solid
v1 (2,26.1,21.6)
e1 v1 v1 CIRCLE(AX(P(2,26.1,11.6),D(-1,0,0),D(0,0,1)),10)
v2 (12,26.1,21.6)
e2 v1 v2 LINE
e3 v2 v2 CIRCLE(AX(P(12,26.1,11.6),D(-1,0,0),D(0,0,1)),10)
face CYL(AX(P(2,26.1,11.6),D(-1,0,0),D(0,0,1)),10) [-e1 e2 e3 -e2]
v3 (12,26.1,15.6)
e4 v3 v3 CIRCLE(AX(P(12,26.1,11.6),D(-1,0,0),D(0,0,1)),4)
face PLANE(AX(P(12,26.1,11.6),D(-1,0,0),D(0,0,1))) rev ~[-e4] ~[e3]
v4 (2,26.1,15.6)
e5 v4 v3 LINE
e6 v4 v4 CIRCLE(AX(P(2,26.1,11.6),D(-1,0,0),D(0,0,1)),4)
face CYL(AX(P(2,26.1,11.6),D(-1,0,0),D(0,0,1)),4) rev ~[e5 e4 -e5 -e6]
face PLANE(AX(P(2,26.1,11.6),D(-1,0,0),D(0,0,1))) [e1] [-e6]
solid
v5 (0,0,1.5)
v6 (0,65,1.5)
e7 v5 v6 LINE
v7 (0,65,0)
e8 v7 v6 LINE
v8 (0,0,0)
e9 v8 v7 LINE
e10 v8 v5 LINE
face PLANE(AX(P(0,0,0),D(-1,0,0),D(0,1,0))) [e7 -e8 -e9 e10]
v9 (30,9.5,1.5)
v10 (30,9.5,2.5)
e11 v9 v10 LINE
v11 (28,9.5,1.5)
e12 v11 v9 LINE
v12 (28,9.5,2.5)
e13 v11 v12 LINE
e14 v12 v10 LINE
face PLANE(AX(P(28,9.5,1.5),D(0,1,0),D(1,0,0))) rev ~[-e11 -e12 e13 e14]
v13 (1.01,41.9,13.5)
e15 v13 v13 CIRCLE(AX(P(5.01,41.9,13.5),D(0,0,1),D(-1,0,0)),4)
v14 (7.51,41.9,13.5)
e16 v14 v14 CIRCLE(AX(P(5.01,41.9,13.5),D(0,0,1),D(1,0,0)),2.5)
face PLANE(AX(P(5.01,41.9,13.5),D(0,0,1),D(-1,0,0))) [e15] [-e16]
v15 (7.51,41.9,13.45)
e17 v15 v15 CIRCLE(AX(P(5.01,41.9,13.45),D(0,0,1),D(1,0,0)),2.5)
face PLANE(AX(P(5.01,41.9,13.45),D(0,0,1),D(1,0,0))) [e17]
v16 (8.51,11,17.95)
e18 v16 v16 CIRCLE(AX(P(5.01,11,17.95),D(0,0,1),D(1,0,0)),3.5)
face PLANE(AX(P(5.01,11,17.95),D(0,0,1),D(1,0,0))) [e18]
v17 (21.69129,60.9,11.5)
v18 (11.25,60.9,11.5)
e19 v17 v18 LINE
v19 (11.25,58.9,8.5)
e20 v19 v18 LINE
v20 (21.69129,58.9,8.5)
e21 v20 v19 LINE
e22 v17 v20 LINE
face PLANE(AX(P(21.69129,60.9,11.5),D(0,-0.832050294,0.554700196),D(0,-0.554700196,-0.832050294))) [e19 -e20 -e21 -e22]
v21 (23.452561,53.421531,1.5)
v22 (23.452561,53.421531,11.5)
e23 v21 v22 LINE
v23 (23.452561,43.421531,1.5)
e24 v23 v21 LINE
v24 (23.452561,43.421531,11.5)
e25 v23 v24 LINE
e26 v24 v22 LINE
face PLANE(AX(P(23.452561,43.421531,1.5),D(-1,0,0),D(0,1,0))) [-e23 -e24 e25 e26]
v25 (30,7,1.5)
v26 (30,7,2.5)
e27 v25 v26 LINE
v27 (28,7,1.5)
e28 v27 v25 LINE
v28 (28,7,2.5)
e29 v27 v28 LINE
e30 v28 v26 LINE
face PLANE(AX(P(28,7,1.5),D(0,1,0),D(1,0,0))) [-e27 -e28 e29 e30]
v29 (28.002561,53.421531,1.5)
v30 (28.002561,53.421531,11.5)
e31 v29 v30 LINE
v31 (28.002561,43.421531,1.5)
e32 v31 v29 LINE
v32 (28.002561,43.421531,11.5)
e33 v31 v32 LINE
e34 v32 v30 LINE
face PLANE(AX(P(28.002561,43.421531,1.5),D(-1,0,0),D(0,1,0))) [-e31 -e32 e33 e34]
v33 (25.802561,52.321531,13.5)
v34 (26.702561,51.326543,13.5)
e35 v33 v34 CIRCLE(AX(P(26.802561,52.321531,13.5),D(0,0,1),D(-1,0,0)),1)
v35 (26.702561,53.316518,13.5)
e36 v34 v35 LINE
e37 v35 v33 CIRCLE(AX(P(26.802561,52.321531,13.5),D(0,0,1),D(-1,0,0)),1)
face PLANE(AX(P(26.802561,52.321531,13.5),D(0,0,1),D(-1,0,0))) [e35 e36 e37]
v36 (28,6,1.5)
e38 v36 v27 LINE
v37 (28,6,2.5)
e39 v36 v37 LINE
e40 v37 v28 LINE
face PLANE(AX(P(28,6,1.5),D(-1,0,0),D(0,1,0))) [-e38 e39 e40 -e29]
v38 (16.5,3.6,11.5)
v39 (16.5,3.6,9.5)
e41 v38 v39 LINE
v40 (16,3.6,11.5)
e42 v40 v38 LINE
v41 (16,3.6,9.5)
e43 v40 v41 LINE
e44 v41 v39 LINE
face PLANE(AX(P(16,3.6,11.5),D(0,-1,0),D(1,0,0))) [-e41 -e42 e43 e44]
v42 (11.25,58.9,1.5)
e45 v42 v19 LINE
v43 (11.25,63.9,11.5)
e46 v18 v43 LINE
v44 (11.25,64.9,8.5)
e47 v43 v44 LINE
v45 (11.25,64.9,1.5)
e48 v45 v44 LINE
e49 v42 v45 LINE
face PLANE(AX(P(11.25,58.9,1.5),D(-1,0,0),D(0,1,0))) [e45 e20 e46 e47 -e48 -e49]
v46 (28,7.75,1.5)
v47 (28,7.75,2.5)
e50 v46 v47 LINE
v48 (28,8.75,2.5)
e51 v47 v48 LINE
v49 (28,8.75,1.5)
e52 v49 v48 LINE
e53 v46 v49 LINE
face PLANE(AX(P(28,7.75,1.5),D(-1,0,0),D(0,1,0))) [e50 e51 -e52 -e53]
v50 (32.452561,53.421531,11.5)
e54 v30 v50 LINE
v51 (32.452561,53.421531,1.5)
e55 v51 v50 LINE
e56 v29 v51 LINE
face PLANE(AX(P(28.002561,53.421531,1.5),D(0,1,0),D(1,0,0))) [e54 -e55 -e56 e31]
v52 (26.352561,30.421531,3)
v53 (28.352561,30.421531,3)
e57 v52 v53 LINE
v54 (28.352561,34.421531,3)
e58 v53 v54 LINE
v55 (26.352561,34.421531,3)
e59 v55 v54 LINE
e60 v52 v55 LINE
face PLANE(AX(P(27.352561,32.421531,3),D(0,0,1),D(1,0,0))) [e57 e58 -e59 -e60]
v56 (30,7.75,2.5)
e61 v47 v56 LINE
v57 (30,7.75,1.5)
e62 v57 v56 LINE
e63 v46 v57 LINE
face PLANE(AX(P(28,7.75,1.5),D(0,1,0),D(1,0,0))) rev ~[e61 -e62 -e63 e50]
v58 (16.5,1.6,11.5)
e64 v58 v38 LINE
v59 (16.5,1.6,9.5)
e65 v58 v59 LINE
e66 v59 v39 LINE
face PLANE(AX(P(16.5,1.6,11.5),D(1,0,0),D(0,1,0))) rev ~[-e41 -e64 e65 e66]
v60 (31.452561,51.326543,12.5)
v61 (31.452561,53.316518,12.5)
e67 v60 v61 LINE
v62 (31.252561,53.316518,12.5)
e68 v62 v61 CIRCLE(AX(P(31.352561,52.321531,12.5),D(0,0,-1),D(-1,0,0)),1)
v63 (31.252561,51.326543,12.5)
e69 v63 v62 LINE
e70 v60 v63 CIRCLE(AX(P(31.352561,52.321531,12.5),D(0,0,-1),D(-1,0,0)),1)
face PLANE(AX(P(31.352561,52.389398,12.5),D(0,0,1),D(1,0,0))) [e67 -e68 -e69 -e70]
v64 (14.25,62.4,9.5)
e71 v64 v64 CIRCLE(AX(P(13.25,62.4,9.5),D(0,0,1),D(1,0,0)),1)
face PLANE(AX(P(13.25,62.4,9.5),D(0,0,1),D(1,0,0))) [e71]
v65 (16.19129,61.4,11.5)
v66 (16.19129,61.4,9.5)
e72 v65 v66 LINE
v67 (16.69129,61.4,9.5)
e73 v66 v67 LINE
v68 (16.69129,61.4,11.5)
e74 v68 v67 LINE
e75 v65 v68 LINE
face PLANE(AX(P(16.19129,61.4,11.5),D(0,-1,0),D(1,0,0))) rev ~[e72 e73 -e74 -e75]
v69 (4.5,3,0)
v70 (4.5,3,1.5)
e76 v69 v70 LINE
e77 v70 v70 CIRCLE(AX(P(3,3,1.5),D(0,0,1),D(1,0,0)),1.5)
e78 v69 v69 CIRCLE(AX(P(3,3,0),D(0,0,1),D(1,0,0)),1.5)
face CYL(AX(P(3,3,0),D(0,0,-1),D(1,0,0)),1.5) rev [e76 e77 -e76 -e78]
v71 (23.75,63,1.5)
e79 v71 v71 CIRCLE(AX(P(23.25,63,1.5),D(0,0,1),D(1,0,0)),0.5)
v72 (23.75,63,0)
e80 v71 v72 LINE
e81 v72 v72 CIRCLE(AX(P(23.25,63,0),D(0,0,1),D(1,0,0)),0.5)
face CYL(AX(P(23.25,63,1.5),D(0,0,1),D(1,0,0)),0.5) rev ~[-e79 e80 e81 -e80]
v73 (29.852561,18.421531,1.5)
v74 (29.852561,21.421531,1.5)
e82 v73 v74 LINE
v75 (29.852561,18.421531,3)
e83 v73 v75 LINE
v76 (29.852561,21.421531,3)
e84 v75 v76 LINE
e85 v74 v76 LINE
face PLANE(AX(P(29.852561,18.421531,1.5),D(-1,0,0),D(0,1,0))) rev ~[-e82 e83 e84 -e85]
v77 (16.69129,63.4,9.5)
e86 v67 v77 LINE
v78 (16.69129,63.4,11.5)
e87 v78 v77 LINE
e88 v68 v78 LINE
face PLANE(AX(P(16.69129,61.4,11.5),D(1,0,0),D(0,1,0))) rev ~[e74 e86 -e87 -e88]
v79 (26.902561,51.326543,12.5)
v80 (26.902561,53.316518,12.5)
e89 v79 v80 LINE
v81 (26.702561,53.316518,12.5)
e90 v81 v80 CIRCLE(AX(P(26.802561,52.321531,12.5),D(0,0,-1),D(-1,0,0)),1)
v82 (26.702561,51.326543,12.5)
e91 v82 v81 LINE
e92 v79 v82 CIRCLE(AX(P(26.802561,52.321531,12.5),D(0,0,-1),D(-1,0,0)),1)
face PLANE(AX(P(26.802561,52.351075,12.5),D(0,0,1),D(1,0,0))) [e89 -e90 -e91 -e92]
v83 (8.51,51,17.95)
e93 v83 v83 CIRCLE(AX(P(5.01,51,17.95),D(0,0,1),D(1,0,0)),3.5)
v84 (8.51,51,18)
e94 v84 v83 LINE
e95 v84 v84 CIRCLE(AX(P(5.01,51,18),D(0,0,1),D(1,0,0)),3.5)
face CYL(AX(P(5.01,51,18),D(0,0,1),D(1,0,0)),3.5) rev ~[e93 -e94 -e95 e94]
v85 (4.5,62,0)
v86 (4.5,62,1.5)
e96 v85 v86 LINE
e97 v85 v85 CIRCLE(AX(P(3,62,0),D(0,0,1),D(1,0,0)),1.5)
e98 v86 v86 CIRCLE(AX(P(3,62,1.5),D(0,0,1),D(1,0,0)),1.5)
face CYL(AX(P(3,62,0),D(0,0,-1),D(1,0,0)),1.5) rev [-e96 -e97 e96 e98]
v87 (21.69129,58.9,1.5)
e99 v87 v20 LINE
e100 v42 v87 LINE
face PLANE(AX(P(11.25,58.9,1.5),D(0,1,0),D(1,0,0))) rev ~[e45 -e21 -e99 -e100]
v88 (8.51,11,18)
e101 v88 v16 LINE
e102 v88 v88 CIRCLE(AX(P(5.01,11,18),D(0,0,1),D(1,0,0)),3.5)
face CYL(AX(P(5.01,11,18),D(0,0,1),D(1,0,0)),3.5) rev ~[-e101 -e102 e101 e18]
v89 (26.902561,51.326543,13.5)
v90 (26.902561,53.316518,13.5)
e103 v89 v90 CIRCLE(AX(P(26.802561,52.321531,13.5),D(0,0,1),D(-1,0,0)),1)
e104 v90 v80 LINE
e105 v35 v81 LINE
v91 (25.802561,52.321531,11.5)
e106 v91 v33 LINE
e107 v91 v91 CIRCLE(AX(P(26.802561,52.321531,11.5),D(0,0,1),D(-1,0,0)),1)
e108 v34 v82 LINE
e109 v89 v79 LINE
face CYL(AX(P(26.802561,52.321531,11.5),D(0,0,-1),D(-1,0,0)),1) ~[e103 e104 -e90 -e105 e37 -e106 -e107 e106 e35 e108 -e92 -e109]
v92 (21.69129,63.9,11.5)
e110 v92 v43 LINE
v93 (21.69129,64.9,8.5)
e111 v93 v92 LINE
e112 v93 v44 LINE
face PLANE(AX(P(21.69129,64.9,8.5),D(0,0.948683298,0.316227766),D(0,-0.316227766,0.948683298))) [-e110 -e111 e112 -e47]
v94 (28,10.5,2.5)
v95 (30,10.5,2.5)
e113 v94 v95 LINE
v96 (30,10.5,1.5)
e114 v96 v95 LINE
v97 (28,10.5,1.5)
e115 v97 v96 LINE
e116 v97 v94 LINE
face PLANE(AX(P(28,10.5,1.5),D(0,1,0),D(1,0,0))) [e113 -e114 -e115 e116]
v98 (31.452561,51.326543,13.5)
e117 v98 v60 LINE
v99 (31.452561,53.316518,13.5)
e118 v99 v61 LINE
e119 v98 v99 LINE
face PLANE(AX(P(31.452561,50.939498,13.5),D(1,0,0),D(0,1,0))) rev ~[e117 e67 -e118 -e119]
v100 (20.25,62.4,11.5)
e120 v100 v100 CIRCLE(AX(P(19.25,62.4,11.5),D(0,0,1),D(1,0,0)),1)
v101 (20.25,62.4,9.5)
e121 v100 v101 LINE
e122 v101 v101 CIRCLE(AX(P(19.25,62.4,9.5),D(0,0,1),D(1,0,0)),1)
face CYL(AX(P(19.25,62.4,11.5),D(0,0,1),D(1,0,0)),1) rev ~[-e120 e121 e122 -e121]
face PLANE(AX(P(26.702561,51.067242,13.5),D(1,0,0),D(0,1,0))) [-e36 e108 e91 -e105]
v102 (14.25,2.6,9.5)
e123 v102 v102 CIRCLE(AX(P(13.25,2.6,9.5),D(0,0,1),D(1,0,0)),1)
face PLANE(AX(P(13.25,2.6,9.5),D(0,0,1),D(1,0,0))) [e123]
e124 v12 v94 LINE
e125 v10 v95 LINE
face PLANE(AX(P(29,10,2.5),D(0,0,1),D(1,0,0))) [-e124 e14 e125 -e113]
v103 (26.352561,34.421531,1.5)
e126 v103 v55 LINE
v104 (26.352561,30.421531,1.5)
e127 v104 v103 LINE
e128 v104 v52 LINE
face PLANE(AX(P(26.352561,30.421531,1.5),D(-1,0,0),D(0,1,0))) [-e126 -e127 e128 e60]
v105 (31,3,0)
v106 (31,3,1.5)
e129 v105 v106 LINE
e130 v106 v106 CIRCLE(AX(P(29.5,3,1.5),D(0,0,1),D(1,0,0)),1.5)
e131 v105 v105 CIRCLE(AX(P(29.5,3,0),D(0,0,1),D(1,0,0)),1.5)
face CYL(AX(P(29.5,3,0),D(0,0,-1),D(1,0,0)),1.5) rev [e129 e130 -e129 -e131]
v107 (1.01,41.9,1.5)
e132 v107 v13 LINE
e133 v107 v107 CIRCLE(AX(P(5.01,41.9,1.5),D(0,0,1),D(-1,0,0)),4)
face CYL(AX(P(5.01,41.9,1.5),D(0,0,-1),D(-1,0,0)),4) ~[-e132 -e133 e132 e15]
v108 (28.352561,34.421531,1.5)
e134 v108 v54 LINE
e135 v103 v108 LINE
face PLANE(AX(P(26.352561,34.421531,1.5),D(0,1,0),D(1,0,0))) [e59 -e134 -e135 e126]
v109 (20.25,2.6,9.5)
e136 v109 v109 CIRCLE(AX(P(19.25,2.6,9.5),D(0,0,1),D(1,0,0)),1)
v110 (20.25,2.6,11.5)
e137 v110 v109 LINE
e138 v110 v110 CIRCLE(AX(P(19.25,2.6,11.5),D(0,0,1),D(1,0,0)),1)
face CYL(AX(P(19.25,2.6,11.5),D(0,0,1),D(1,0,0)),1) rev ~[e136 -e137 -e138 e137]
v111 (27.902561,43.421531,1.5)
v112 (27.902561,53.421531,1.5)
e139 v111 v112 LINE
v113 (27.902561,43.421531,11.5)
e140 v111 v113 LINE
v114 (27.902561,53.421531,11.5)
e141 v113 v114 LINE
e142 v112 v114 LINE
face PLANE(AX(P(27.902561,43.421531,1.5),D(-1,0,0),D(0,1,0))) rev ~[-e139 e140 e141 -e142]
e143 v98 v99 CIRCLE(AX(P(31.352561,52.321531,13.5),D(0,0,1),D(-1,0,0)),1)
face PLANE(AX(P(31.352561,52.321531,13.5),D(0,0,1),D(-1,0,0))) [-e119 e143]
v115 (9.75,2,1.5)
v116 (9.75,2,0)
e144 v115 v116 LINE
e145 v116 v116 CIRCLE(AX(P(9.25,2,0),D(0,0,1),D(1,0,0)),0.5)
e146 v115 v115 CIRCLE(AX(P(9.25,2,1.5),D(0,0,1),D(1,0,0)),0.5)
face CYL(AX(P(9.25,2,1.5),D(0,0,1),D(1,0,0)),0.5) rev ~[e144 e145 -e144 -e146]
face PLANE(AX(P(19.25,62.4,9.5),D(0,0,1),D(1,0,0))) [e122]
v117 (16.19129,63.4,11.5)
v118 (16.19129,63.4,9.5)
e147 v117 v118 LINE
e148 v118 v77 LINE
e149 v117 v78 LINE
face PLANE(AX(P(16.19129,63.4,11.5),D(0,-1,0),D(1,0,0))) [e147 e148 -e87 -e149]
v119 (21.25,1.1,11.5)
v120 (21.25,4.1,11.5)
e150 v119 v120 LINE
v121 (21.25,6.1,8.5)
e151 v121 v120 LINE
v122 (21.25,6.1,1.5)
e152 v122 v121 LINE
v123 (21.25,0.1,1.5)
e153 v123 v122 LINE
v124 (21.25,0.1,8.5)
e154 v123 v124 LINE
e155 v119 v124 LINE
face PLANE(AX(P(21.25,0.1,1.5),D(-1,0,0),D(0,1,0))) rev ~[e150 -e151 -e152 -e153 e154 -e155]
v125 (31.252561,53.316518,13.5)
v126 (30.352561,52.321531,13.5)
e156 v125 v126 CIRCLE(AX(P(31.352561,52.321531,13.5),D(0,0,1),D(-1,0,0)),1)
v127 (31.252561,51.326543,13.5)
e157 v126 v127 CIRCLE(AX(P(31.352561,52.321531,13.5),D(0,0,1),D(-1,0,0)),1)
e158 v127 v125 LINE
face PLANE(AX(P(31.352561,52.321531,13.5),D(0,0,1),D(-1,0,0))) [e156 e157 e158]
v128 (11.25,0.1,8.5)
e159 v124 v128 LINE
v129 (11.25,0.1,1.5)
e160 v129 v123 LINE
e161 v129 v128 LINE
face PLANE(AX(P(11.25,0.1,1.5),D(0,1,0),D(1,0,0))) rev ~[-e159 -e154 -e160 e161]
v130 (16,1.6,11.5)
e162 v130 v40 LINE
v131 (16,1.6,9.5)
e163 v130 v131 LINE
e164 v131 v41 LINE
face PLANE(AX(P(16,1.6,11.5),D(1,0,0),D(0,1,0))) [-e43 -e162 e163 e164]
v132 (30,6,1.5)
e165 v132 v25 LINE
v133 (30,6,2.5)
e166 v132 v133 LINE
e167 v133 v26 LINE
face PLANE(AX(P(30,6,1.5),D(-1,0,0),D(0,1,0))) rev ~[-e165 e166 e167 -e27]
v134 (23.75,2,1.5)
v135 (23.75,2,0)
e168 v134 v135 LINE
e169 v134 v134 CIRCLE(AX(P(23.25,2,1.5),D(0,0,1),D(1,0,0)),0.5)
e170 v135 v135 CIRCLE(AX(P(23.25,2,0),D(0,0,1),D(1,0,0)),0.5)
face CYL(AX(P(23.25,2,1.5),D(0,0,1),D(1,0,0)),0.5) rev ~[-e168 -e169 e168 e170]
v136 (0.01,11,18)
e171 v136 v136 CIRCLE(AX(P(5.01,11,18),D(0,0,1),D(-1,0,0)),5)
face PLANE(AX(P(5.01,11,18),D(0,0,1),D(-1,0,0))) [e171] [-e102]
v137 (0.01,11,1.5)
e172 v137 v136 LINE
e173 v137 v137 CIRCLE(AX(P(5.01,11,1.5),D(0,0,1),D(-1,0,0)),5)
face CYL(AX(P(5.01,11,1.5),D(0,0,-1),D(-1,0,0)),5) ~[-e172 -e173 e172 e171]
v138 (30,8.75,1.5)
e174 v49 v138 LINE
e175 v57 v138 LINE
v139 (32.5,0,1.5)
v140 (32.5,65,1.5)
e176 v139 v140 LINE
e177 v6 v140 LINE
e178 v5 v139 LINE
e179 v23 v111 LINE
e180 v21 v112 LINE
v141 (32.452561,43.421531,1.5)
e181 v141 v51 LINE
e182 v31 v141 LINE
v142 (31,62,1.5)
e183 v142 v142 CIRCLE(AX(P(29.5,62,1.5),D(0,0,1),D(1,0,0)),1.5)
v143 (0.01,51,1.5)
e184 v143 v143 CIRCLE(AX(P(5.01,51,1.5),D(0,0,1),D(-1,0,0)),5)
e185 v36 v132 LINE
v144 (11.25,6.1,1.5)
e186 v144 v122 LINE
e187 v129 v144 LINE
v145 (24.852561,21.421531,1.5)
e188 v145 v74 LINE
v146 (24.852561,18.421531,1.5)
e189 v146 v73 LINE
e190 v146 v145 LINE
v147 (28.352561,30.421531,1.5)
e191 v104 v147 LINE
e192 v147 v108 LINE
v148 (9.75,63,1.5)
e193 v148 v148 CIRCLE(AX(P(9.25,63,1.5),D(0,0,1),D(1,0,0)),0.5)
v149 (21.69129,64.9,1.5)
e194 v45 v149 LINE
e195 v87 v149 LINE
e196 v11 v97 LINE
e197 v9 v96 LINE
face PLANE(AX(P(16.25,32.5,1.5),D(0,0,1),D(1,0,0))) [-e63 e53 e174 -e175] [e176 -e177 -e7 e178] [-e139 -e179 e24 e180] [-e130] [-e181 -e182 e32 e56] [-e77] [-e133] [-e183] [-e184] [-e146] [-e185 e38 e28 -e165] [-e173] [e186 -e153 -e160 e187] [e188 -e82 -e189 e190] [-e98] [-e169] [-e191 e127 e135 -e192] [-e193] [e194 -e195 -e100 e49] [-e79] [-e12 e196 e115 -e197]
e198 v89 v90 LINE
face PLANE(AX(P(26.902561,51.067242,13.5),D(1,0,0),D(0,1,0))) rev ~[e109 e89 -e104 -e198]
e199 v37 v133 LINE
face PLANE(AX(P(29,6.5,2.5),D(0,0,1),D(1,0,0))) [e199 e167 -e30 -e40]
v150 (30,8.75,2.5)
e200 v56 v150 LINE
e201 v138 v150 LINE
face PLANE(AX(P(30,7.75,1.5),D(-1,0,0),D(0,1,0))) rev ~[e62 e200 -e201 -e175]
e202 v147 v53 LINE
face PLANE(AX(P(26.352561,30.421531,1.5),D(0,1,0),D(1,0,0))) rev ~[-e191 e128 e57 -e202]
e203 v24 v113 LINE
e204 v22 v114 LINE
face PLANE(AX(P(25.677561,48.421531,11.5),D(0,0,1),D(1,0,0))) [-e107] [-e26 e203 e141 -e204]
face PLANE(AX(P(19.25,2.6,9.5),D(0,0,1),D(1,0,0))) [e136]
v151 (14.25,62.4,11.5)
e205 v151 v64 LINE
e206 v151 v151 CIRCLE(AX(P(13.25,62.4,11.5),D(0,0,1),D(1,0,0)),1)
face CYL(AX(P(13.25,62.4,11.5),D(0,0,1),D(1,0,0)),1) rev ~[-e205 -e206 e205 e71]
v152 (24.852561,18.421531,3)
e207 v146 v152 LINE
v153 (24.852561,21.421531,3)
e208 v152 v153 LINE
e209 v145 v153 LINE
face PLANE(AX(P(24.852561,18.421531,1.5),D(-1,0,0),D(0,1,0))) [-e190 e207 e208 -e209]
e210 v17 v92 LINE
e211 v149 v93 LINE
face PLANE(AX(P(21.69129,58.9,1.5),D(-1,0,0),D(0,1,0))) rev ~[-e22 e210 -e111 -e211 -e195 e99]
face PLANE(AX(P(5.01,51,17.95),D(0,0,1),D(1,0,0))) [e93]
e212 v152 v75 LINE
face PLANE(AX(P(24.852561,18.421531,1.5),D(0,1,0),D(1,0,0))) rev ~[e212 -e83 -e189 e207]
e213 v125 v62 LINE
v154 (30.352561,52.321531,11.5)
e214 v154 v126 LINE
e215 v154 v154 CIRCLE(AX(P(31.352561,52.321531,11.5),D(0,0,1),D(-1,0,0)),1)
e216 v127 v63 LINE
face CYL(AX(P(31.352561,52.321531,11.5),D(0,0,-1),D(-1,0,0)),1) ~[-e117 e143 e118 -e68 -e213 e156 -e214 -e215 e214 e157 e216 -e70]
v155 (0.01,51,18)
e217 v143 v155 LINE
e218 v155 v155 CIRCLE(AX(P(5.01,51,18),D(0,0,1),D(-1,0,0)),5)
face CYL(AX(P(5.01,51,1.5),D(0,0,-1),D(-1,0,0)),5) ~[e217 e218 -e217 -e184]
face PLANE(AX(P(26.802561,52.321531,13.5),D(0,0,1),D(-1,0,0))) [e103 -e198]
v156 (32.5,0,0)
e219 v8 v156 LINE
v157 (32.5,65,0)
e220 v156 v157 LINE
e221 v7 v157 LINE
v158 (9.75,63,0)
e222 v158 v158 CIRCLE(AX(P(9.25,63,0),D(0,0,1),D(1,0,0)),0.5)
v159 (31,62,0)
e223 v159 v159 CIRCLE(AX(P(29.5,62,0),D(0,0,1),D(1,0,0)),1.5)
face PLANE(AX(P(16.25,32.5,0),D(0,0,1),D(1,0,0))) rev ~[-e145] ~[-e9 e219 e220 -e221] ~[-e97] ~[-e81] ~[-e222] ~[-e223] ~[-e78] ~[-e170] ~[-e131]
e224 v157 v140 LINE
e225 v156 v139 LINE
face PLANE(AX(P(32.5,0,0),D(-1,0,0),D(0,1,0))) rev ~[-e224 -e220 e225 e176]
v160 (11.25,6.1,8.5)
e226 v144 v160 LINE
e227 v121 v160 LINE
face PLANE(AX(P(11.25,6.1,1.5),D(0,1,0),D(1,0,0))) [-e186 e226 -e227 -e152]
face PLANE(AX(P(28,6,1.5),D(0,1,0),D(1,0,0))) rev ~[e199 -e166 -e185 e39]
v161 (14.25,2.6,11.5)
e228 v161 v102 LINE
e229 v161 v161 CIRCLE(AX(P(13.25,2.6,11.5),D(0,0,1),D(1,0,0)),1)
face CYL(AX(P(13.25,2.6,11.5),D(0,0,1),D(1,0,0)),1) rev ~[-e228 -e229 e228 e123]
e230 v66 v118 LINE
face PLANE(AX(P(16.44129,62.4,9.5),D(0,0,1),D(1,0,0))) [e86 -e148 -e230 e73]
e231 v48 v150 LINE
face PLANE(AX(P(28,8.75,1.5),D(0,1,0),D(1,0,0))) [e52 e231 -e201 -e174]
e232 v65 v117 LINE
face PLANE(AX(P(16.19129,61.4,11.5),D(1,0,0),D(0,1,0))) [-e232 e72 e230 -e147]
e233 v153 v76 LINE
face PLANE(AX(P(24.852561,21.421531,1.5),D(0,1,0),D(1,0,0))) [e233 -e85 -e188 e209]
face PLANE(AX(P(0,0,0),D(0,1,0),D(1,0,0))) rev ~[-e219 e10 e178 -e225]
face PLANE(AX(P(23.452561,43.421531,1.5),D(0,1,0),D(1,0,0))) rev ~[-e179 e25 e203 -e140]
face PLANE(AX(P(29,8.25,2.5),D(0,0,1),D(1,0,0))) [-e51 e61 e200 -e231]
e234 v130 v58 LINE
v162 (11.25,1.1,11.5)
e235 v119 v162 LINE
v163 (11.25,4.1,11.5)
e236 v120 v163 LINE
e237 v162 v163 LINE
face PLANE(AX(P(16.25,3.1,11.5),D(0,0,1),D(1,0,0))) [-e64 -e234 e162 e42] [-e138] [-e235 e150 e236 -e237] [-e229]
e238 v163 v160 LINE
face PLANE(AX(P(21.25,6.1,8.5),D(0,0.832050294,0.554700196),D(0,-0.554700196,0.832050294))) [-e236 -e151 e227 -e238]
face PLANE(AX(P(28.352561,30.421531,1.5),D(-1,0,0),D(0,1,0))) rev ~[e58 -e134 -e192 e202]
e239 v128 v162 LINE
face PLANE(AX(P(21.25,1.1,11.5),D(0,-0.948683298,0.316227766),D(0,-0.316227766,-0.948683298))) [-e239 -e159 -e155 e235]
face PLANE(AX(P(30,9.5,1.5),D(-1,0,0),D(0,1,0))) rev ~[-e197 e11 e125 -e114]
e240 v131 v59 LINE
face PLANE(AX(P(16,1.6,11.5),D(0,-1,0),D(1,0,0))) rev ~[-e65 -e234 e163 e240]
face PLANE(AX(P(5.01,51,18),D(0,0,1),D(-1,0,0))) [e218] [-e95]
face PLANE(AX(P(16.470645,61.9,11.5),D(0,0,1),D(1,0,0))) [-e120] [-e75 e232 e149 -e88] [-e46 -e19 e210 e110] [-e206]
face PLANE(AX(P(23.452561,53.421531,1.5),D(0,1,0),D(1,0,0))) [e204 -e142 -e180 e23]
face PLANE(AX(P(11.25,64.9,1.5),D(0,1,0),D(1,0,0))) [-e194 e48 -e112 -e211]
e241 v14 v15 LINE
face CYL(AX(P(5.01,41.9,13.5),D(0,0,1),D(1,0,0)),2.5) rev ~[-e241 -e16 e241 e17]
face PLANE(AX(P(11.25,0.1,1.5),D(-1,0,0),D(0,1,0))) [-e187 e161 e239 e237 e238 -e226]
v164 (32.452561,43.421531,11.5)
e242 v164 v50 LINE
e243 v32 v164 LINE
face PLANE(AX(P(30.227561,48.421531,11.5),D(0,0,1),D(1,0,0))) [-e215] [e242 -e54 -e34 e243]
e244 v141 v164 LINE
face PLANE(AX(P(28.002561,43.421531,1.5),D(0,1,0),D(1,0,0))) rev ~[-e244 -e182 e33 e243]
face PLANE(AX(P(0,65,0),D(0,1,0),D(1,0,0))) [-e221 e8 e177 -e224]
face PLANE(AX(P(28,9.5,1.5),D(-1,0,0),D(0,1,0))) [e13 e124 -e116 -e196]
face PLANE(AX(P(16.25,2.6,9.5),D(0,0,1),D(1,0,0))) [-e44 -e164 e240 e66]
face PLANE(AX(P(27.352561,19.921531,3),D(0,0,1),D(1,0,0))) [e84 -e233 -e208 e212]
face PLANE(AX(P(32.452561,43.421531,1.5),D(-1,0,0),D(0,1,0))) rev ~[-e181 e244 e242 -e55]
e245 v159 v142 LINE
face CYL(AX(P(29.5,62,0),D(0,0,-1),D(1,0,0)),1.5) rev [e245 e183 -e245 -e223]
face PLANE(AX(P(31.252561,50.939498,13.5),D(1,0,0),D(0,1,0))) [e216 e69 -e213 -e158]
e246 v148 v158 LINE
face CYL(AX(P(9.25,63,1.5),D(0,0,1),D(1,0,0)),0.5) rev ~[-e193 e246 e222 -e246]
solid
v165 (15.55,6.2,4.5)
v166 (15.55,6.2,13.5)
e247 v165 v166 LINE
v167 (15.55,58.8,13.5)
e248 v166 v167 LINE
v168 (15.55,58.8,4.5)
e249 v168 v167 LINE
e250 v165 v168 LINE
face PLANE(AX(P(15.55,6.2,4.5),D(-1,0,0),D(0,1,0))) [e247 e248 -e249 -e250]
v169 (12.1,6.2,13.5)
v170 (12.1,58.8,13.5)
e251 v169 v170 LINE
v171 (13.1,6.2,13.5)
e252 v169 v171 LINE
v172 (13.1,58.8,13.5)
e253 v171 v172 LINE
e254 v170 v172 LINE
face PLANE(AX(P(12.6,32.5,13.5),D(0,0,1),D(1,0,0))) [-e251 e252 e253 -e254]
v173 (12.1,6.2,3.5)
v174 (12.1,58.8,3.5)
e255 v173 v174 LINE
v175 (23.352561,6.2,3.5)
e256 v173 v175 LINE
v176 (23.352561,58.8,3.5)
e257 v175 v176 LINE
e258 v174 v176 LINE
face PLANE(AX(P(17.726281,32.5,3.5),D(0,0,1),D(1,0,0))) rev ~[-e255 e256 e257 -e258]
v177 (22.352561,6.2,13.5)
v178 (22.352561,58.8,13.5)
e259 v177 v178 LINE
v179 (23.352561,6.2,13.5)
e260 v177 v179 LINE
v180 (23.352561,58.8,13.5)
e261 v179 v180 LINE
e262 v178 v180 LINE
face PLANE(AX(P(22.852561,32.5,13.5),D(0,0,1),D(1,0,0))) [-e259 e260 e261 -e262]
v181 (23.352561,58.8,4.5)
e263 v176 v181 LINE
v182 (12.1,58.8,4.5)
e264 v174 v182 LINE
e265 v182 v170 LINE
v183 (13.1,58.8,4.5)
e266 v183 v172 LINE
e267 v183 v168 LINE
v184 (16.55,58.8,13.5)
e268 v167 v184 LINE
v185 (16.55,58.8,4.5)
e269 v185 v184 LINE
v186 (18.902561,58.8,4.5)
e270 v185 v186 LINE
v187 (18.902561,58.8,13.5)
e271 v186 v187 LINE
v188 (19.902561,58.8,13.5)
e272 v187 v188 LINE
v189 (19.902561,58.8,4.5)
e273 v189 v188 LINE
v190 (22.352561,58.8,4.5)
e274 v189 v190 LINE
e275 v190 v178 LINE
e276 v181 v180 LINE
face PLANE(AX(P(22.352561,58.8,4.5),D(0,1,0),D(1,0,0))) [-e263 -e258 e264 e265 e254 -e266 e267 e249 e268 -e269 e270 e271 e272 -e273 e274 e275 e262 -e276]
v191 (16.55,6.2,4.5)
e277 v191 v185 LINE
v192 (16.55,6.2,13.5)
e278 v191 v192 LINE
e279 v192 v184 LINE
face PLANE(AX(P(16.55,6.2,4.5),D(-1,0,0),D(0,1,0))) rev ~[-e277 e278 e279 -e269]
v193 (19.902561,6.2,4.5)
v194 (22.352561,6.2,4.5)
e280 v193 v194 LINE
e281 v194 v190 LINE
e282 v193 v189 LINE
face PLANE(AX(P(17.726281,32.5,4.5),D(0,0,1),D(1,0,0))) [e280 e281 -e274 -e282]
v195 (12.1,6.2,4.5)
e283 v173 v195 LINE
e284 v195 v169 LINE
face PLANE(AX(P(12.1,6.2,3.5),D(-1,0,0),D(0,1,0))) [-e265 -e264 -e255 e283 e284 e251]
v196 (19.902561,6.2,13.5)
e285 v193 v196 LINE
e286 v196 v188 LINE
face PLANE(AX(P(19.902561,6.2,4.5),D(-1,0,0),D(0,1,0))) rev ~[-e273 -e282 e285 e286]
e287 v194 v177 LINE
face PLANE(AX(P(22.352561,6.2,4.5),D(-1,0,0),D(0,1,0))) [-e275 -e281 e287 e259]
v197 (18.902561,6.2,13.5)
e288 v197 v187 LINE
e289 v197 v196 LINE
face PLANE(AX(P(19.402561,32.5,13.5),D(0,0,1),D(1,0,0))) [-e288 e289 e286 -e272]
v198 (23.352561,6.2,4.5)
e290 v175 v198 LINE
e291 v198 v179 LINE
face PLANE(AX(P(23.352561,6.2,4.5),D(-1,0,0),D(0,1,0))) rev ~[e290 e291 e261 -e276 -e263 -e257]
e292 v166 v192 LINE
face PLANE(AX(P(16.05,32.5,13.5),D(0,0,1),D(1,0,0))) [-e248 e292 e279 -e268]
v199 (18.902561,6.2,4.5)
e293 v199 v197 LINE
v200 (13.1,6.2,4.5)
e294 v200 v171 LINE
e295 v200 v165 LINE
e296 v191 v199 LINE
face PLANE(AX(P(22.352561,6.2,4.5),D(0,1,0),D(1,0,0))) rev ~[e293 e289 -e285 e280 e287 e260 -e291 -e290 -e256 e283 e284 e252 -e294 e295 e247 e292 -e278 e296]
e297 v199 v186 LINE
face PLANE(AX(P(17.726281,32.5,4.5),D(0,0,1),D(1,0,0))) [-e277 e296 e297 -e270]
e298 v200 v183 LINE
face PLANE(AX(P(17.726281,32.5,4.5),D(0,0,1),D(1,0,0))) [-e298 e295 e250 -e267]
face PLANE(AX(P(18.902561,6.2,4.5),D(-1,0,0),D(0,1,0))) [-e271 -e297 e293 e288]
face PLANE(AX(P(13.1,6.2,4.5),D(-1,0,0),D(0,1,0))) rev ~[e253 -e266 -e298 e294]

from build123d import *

# Parameters (mm, degrees)
SKETCH_1_W          = 32.5
SKETCH_1_H          = 65
SKETCH_1_R          = 1.5
EXTRUDE_1_DEPTH     = 1.5
SKETCH_2_W          = 10
SKETCH_2_H          = 6
SKETCH_2_W_2        = 10.441290105
EXTRUDE_2_DEPTH     = 10
CUT_EXTRUDE_1_DEPTH = 70.345601879
CUT_EXTRUDE_2_DEPTH = 70.482098892
SKETCH_5_W          = 4.45
SKETCH_5_H          = 10
EXTRUDE_3_DEPTH     = 10
SKETCH_6_R          = 1
EXTRUDE_4_DEPTH     = 2
SKETCH_7_W          = 0.2
SKETCH_7_H          = 2.567664245
SKETCH_7_H_2        = 2.899799918
CUT_EXTRUDE_3_DEPTH = 1
SKETCH_8_R          = 5
EXTRUDE_5_DEPTH     = 16.5
SKETCH_9_R          = 4
EXTRUDE_6_DEPTH     = 12
SKETCH_10_R         = 10
SKETCH_10_R_2       = 4
EXTRUDE_7_DEPTH     = 10
SKETCH_11_R         = 0.5
CUT_EXTRUDE_4_DEPTH = 76.400663127
SKETCH_14_W         = 11.252561251
SKETCH_14_H         = 52.6
EXTRUDE_8_DEPTH     = 1
SKETCH_15_W         = 1
SKETCH_15_H         = 52.6
EXTRUDE_9_DEPTH     = 9
SKETCH_16_W         = 5
SKETCH_16_H         = 3
SKETCH_16_W_2       = 2
SKETCH_16_H_2       = 4
EXTRUDE_10_DEPTH    = 1.5
SKETCH_17_W         = 2
SKETCH_17_H         = 1
EXTRUDE_11_DEPTH    = 1
SKETCH_18_R         = 3.5
CUT_EXTRUDE_5_DEPTH = 0.05
SKETCH_19_R         = 2.5
CUT_EXTRUDE_6_DEPTH = 0.05
SKETCH_20_R         = 1
SKETCH_20_W         = 0.5
SKETCH_20_H         = 2
CUT_EXTRUDE_7_DEPTH = 2


with BuildPart() as part:
    # 草图1 → 凸台-拉伸1 (new body)
    with BuildSketch(Plane.XY):
        with Locations((16.25, 32.5)):
            Rectangle(SKETCH_1_W, SKETCH_1_H)
        with Locations((3, 62)):
            Circle(SKETCH_1_R, mode=Mode.SUBTRACT)
        with Locations((29.5, 3)):
            Circle(SKETCH_1_R, mode=Mode.SUBTRACT)
        with Locations((3, 3)):
            Circle(SKETCH_1_R, mode=Mode.SUBTRACT)
        with Locations((29.5, 62)):
            Circle(SKETCH_1_R, mode=Mode.SUBTRACT)
    extrude(amount=EXTRUDE_1_DEPTH)

    # 草图2 → 凸台-拉伸2 (add)
    with BuildSketch(Plane.XY.offset(1.5)):
        with Locations((16.25, 3.1)):
            Rectangle(SKETCH_2_W, SKETCH_2_H)
        with Locations((16.470645053, 61.9)):
            Rectangle(SKETCH_2_W_2, SKETCH_2_H)
    extrude(amount=EXTRUDE_2_DEPTH)

    # 草图3 → 切除-拉伸1 (cut, through all)
    with BuildSketch(Plane(origin=(21.25, 0, 0), x_dir=(0, 0, -1), z_dir=(1, 0, 0))):
        Polygon((-11.5, 0.1), (-11.5, 1.1), (-8.5, 0.1), (-11.210765393, 0.1), align=None)
        Polygon((-11.5, 4.1), (-11.5, 6.1), (-8.5, 6.1), align=None)
    extrude(amount=-CUT_EXTRUDE_1_DEPTH, mode=Mode.SUBTRACT)

    # 草图4 → 切除-拉伸2 (cut, through all)
    with BuildSketch(Plane(origin=(21.691290105, 0, 0), x_dir=(0, 0, -1), z_dir=(1, 0, 0))):
        Polygon((-11.5, 58.9), (-11.5, 60.9), (-8.5, 58.9), align=None)
        Polygon((-11.5, 63.9), (-11.5, 64.9), (-8.5, 64.9), align=None)
    extrude(amount=-CUT_EXTRUDE_2_DEPTH, mode=Mode.SUBTRACT)

    # 草图5 → 凸台-拉伸3 (add)
    with BuildSketch(Plane.XY.offset(1.5)):
        with Locations((25.677561251, 48.421530787)):
            Rectangle(SKETCH_5_W, SKETCH_5_H)
        with Locations((30.227561251, 48.421530787)):
            Rectangle(SKETCH_5_W, SKETCH_5_H)
    extrude(amount=EXTRUDE_3_DEPTH)

    # 草图6 → 凸台-拉伸4 (add)
    with BuildSketch(Plane.XY.offset(11.5)):
        with Locations(Location((26.802561251, 52.321530787, 0), (0, 0, 180))):
            Circle(SKETCH_6_R)
        with Locations(Location((31.352561251, 52.321530787, 0), (0, 0, 180))):
            Circle(SKETCH_6_R)
    extrude(amount=EXTRUDE_4_DEPTH)

    # 草图7 → 切除-拉伸3 (cut)
    with BuildSketch(Plane.XY.offset(13.5)):
        with Locations((26.802561251, 52.351074518)):
            Rectangle(SKETCH_7_W, SKETCH_7_H)
        with Locations((31.352561251, 52.389397866)):
            Rectangle(SKETCH_7_W, SKETCH_7_H_2)
    extrude(amount=-CUT_EXTRUDE_3_DEPTH, mode=Mode.SUBTRACT)

    # 草图8 → 凸台-拉伸5 (add)
    with BuildSketch(Plane.XY.offset(1.5)):
        with Locations(Location((5.01, 11, 0), (0, 0, 180))):
            Circle(SKETCH_8_R)
        with Locations(Location((5.01, 51, 0), (0, 0, 180))):
            Circle(SKETCH_8_R)
    extrude(amount=EXTRUDE_5_DEPTH)

    # 草图9 → 凸台-拉伸6 (add)
    with BuildSketch(Plane.XY.offset(1.5)):
        with Locations(Location((5.01, 41.9, 0), (0, 0, 180))):
            Circle(SKETCH_9_R)
    extrude(amount=EXTRUDE_6_DEPTH)

    # 草图11 → 切除-拉伸4 (cut, through all)
    with BuildSketch(Plane.XY.offset(1.5)):
        with Locations((23.25, 2)):
            Circle(SKETCH_11_R)
        with Locations((9.25, 63)):
            Circle(SKETCH_11_R)
        with Locations((23.25, 63)):
            Circle(SKETCH_11_R)
        with Locations((9.25, 2)):
            Circle(SKETCH_11_R)
    extrude(amount=-CUT_EXTRUDE_4_DEPTH, mode=Mode.SUBTRACT)

    # 草图16 → 凸台-拉伸10 (add)
    with BuildSketch(Plane.XY.offset(1.5)):
        with Locations((27.352561251, 19.921530787)):
            Rectangle(SKETCH_16_W, SKETCH_16_H)
        with Locations((27.352561251, 32.421530787)):
            Rectangle(SKETCH_16_W_2, SKETCH_16_H_2)
    extrude(amount=EXTRUDE_10_DEPTH)

    # 草图17 → 凸台-拉伸11 (add)
    with BuildSketch(Plane.XY.offset(1.5)):
        with Locations((29, 6.5)):
            Rectangle(SKETCH_17_W, SKETCH_17_H)
        with Locations((29, 8.25)):
            Rectangle(SKETCH_17_W, SKETCH_17_H)
        with Locations((29, 10)):
            Rectangle(SKETCH_17_W, SKETCH_17_H)
    extrude(amount=EXTRUDE_11_DEPTH)

    # 草图18 → 切除-拉伸5 (cut)
    with BuildSketch(Plane.XY.offset(18)):
        with Locations((5.01, 11)):
            Circle(SKETCH_18_R)
        with Locations((5.01, 51)):
            Circle(SKETCH_18_R)
    extrude(amount=-CUT_EXTRUDE_5_DEPTH, mode=Mode.SUBTRACT)

    # 草图19 → 切除-拉伸6 (cut)
    with BuildSketch(Plane.XY.offset(13.5)):
        with Locations((5.01, 41.9)):
            Circle(SKETCH_19_R)
    extrude(amount=-CUT_EXTRUDE_6_DEPTH, mode=Mode.SUBTRACT)

    # 草图20 → 切除-拉伸7 (cut)
    with BuildSketch(Plane.XY.offset(11.5)):
        with Locations((19.25, 2.6)):
            Circle(SKETCH_20_R)
        with Locations((13.25, 2.6)):
            Circle(SKETCH_20_R)
        with Locations((19.25, 62.4)):
            Circle(SKETCH_20_R)
        with Locations((13.25, 62.4)):
            Circle(SKETCH_20_R)
        with Locations((16.25, 2.6)):
            Rectangle(SKETCH_20_W, SKETCH_20_H)
        with Locations((16.441290105, 62.4)):
            Rectangle(SKETCH_20_W, SKETCH_20_H)
    extrude(amount=-CUT_EXTRUDE_7_DEPTH, mode=Mode.SUBTRACT)


with BuildPart() as body_2:
    # 草图10 → 凸台-拉伸7 (new body)
    with BuildSketch(Plane.ZY.offset(-2)):
        with Locations((11.6, 26.1)):
            Circle(SKETCH_10_R)
        with Locations((11.6, 26.1)):
            Circle(SKETCH_10_R_2, mode=Mode.SUBTRACT)
    extrude(amount=-EXTRUDE_7_DEPTH)


with BuildPart() as body_3:
    # 草图14 → 凸台-拉伸8 (new body)
    with BuildSketch(Plane.XY.offset(3.5)):
        with Locations((17.726280626, 32.5)):
            Rectangle(SKETCH_14_W, SKETCH_14_H)
    extrude(amount=EXTRUDE_8_DEPTH)

    # 草图15 → 凸台-拉伸9 (add)
    with BuildSketch(Plane.XY.offset(4.5)):
        with Locations((22.852561251, 32.5)):
            Rectangle(SKETCH_15_W, SKETCH_15_H)
        with Locations((12.6, 32.5)):
            Rectangle(SKETCH_15_W, SKETCH_15_H)
        with Locations((19.402561251, 32.5)):
            Rectangle(SKETCH_15_W, SKETCH_15_H)
        with Locations((16.05, 32.5)):
            Rectangle(SKETCH_15_W, SKETCH_15_H)
    extrude(amount=EXTRUDE_9_DEPTH)


solid = Compound([part.part, body_2.part, body_3.part])
